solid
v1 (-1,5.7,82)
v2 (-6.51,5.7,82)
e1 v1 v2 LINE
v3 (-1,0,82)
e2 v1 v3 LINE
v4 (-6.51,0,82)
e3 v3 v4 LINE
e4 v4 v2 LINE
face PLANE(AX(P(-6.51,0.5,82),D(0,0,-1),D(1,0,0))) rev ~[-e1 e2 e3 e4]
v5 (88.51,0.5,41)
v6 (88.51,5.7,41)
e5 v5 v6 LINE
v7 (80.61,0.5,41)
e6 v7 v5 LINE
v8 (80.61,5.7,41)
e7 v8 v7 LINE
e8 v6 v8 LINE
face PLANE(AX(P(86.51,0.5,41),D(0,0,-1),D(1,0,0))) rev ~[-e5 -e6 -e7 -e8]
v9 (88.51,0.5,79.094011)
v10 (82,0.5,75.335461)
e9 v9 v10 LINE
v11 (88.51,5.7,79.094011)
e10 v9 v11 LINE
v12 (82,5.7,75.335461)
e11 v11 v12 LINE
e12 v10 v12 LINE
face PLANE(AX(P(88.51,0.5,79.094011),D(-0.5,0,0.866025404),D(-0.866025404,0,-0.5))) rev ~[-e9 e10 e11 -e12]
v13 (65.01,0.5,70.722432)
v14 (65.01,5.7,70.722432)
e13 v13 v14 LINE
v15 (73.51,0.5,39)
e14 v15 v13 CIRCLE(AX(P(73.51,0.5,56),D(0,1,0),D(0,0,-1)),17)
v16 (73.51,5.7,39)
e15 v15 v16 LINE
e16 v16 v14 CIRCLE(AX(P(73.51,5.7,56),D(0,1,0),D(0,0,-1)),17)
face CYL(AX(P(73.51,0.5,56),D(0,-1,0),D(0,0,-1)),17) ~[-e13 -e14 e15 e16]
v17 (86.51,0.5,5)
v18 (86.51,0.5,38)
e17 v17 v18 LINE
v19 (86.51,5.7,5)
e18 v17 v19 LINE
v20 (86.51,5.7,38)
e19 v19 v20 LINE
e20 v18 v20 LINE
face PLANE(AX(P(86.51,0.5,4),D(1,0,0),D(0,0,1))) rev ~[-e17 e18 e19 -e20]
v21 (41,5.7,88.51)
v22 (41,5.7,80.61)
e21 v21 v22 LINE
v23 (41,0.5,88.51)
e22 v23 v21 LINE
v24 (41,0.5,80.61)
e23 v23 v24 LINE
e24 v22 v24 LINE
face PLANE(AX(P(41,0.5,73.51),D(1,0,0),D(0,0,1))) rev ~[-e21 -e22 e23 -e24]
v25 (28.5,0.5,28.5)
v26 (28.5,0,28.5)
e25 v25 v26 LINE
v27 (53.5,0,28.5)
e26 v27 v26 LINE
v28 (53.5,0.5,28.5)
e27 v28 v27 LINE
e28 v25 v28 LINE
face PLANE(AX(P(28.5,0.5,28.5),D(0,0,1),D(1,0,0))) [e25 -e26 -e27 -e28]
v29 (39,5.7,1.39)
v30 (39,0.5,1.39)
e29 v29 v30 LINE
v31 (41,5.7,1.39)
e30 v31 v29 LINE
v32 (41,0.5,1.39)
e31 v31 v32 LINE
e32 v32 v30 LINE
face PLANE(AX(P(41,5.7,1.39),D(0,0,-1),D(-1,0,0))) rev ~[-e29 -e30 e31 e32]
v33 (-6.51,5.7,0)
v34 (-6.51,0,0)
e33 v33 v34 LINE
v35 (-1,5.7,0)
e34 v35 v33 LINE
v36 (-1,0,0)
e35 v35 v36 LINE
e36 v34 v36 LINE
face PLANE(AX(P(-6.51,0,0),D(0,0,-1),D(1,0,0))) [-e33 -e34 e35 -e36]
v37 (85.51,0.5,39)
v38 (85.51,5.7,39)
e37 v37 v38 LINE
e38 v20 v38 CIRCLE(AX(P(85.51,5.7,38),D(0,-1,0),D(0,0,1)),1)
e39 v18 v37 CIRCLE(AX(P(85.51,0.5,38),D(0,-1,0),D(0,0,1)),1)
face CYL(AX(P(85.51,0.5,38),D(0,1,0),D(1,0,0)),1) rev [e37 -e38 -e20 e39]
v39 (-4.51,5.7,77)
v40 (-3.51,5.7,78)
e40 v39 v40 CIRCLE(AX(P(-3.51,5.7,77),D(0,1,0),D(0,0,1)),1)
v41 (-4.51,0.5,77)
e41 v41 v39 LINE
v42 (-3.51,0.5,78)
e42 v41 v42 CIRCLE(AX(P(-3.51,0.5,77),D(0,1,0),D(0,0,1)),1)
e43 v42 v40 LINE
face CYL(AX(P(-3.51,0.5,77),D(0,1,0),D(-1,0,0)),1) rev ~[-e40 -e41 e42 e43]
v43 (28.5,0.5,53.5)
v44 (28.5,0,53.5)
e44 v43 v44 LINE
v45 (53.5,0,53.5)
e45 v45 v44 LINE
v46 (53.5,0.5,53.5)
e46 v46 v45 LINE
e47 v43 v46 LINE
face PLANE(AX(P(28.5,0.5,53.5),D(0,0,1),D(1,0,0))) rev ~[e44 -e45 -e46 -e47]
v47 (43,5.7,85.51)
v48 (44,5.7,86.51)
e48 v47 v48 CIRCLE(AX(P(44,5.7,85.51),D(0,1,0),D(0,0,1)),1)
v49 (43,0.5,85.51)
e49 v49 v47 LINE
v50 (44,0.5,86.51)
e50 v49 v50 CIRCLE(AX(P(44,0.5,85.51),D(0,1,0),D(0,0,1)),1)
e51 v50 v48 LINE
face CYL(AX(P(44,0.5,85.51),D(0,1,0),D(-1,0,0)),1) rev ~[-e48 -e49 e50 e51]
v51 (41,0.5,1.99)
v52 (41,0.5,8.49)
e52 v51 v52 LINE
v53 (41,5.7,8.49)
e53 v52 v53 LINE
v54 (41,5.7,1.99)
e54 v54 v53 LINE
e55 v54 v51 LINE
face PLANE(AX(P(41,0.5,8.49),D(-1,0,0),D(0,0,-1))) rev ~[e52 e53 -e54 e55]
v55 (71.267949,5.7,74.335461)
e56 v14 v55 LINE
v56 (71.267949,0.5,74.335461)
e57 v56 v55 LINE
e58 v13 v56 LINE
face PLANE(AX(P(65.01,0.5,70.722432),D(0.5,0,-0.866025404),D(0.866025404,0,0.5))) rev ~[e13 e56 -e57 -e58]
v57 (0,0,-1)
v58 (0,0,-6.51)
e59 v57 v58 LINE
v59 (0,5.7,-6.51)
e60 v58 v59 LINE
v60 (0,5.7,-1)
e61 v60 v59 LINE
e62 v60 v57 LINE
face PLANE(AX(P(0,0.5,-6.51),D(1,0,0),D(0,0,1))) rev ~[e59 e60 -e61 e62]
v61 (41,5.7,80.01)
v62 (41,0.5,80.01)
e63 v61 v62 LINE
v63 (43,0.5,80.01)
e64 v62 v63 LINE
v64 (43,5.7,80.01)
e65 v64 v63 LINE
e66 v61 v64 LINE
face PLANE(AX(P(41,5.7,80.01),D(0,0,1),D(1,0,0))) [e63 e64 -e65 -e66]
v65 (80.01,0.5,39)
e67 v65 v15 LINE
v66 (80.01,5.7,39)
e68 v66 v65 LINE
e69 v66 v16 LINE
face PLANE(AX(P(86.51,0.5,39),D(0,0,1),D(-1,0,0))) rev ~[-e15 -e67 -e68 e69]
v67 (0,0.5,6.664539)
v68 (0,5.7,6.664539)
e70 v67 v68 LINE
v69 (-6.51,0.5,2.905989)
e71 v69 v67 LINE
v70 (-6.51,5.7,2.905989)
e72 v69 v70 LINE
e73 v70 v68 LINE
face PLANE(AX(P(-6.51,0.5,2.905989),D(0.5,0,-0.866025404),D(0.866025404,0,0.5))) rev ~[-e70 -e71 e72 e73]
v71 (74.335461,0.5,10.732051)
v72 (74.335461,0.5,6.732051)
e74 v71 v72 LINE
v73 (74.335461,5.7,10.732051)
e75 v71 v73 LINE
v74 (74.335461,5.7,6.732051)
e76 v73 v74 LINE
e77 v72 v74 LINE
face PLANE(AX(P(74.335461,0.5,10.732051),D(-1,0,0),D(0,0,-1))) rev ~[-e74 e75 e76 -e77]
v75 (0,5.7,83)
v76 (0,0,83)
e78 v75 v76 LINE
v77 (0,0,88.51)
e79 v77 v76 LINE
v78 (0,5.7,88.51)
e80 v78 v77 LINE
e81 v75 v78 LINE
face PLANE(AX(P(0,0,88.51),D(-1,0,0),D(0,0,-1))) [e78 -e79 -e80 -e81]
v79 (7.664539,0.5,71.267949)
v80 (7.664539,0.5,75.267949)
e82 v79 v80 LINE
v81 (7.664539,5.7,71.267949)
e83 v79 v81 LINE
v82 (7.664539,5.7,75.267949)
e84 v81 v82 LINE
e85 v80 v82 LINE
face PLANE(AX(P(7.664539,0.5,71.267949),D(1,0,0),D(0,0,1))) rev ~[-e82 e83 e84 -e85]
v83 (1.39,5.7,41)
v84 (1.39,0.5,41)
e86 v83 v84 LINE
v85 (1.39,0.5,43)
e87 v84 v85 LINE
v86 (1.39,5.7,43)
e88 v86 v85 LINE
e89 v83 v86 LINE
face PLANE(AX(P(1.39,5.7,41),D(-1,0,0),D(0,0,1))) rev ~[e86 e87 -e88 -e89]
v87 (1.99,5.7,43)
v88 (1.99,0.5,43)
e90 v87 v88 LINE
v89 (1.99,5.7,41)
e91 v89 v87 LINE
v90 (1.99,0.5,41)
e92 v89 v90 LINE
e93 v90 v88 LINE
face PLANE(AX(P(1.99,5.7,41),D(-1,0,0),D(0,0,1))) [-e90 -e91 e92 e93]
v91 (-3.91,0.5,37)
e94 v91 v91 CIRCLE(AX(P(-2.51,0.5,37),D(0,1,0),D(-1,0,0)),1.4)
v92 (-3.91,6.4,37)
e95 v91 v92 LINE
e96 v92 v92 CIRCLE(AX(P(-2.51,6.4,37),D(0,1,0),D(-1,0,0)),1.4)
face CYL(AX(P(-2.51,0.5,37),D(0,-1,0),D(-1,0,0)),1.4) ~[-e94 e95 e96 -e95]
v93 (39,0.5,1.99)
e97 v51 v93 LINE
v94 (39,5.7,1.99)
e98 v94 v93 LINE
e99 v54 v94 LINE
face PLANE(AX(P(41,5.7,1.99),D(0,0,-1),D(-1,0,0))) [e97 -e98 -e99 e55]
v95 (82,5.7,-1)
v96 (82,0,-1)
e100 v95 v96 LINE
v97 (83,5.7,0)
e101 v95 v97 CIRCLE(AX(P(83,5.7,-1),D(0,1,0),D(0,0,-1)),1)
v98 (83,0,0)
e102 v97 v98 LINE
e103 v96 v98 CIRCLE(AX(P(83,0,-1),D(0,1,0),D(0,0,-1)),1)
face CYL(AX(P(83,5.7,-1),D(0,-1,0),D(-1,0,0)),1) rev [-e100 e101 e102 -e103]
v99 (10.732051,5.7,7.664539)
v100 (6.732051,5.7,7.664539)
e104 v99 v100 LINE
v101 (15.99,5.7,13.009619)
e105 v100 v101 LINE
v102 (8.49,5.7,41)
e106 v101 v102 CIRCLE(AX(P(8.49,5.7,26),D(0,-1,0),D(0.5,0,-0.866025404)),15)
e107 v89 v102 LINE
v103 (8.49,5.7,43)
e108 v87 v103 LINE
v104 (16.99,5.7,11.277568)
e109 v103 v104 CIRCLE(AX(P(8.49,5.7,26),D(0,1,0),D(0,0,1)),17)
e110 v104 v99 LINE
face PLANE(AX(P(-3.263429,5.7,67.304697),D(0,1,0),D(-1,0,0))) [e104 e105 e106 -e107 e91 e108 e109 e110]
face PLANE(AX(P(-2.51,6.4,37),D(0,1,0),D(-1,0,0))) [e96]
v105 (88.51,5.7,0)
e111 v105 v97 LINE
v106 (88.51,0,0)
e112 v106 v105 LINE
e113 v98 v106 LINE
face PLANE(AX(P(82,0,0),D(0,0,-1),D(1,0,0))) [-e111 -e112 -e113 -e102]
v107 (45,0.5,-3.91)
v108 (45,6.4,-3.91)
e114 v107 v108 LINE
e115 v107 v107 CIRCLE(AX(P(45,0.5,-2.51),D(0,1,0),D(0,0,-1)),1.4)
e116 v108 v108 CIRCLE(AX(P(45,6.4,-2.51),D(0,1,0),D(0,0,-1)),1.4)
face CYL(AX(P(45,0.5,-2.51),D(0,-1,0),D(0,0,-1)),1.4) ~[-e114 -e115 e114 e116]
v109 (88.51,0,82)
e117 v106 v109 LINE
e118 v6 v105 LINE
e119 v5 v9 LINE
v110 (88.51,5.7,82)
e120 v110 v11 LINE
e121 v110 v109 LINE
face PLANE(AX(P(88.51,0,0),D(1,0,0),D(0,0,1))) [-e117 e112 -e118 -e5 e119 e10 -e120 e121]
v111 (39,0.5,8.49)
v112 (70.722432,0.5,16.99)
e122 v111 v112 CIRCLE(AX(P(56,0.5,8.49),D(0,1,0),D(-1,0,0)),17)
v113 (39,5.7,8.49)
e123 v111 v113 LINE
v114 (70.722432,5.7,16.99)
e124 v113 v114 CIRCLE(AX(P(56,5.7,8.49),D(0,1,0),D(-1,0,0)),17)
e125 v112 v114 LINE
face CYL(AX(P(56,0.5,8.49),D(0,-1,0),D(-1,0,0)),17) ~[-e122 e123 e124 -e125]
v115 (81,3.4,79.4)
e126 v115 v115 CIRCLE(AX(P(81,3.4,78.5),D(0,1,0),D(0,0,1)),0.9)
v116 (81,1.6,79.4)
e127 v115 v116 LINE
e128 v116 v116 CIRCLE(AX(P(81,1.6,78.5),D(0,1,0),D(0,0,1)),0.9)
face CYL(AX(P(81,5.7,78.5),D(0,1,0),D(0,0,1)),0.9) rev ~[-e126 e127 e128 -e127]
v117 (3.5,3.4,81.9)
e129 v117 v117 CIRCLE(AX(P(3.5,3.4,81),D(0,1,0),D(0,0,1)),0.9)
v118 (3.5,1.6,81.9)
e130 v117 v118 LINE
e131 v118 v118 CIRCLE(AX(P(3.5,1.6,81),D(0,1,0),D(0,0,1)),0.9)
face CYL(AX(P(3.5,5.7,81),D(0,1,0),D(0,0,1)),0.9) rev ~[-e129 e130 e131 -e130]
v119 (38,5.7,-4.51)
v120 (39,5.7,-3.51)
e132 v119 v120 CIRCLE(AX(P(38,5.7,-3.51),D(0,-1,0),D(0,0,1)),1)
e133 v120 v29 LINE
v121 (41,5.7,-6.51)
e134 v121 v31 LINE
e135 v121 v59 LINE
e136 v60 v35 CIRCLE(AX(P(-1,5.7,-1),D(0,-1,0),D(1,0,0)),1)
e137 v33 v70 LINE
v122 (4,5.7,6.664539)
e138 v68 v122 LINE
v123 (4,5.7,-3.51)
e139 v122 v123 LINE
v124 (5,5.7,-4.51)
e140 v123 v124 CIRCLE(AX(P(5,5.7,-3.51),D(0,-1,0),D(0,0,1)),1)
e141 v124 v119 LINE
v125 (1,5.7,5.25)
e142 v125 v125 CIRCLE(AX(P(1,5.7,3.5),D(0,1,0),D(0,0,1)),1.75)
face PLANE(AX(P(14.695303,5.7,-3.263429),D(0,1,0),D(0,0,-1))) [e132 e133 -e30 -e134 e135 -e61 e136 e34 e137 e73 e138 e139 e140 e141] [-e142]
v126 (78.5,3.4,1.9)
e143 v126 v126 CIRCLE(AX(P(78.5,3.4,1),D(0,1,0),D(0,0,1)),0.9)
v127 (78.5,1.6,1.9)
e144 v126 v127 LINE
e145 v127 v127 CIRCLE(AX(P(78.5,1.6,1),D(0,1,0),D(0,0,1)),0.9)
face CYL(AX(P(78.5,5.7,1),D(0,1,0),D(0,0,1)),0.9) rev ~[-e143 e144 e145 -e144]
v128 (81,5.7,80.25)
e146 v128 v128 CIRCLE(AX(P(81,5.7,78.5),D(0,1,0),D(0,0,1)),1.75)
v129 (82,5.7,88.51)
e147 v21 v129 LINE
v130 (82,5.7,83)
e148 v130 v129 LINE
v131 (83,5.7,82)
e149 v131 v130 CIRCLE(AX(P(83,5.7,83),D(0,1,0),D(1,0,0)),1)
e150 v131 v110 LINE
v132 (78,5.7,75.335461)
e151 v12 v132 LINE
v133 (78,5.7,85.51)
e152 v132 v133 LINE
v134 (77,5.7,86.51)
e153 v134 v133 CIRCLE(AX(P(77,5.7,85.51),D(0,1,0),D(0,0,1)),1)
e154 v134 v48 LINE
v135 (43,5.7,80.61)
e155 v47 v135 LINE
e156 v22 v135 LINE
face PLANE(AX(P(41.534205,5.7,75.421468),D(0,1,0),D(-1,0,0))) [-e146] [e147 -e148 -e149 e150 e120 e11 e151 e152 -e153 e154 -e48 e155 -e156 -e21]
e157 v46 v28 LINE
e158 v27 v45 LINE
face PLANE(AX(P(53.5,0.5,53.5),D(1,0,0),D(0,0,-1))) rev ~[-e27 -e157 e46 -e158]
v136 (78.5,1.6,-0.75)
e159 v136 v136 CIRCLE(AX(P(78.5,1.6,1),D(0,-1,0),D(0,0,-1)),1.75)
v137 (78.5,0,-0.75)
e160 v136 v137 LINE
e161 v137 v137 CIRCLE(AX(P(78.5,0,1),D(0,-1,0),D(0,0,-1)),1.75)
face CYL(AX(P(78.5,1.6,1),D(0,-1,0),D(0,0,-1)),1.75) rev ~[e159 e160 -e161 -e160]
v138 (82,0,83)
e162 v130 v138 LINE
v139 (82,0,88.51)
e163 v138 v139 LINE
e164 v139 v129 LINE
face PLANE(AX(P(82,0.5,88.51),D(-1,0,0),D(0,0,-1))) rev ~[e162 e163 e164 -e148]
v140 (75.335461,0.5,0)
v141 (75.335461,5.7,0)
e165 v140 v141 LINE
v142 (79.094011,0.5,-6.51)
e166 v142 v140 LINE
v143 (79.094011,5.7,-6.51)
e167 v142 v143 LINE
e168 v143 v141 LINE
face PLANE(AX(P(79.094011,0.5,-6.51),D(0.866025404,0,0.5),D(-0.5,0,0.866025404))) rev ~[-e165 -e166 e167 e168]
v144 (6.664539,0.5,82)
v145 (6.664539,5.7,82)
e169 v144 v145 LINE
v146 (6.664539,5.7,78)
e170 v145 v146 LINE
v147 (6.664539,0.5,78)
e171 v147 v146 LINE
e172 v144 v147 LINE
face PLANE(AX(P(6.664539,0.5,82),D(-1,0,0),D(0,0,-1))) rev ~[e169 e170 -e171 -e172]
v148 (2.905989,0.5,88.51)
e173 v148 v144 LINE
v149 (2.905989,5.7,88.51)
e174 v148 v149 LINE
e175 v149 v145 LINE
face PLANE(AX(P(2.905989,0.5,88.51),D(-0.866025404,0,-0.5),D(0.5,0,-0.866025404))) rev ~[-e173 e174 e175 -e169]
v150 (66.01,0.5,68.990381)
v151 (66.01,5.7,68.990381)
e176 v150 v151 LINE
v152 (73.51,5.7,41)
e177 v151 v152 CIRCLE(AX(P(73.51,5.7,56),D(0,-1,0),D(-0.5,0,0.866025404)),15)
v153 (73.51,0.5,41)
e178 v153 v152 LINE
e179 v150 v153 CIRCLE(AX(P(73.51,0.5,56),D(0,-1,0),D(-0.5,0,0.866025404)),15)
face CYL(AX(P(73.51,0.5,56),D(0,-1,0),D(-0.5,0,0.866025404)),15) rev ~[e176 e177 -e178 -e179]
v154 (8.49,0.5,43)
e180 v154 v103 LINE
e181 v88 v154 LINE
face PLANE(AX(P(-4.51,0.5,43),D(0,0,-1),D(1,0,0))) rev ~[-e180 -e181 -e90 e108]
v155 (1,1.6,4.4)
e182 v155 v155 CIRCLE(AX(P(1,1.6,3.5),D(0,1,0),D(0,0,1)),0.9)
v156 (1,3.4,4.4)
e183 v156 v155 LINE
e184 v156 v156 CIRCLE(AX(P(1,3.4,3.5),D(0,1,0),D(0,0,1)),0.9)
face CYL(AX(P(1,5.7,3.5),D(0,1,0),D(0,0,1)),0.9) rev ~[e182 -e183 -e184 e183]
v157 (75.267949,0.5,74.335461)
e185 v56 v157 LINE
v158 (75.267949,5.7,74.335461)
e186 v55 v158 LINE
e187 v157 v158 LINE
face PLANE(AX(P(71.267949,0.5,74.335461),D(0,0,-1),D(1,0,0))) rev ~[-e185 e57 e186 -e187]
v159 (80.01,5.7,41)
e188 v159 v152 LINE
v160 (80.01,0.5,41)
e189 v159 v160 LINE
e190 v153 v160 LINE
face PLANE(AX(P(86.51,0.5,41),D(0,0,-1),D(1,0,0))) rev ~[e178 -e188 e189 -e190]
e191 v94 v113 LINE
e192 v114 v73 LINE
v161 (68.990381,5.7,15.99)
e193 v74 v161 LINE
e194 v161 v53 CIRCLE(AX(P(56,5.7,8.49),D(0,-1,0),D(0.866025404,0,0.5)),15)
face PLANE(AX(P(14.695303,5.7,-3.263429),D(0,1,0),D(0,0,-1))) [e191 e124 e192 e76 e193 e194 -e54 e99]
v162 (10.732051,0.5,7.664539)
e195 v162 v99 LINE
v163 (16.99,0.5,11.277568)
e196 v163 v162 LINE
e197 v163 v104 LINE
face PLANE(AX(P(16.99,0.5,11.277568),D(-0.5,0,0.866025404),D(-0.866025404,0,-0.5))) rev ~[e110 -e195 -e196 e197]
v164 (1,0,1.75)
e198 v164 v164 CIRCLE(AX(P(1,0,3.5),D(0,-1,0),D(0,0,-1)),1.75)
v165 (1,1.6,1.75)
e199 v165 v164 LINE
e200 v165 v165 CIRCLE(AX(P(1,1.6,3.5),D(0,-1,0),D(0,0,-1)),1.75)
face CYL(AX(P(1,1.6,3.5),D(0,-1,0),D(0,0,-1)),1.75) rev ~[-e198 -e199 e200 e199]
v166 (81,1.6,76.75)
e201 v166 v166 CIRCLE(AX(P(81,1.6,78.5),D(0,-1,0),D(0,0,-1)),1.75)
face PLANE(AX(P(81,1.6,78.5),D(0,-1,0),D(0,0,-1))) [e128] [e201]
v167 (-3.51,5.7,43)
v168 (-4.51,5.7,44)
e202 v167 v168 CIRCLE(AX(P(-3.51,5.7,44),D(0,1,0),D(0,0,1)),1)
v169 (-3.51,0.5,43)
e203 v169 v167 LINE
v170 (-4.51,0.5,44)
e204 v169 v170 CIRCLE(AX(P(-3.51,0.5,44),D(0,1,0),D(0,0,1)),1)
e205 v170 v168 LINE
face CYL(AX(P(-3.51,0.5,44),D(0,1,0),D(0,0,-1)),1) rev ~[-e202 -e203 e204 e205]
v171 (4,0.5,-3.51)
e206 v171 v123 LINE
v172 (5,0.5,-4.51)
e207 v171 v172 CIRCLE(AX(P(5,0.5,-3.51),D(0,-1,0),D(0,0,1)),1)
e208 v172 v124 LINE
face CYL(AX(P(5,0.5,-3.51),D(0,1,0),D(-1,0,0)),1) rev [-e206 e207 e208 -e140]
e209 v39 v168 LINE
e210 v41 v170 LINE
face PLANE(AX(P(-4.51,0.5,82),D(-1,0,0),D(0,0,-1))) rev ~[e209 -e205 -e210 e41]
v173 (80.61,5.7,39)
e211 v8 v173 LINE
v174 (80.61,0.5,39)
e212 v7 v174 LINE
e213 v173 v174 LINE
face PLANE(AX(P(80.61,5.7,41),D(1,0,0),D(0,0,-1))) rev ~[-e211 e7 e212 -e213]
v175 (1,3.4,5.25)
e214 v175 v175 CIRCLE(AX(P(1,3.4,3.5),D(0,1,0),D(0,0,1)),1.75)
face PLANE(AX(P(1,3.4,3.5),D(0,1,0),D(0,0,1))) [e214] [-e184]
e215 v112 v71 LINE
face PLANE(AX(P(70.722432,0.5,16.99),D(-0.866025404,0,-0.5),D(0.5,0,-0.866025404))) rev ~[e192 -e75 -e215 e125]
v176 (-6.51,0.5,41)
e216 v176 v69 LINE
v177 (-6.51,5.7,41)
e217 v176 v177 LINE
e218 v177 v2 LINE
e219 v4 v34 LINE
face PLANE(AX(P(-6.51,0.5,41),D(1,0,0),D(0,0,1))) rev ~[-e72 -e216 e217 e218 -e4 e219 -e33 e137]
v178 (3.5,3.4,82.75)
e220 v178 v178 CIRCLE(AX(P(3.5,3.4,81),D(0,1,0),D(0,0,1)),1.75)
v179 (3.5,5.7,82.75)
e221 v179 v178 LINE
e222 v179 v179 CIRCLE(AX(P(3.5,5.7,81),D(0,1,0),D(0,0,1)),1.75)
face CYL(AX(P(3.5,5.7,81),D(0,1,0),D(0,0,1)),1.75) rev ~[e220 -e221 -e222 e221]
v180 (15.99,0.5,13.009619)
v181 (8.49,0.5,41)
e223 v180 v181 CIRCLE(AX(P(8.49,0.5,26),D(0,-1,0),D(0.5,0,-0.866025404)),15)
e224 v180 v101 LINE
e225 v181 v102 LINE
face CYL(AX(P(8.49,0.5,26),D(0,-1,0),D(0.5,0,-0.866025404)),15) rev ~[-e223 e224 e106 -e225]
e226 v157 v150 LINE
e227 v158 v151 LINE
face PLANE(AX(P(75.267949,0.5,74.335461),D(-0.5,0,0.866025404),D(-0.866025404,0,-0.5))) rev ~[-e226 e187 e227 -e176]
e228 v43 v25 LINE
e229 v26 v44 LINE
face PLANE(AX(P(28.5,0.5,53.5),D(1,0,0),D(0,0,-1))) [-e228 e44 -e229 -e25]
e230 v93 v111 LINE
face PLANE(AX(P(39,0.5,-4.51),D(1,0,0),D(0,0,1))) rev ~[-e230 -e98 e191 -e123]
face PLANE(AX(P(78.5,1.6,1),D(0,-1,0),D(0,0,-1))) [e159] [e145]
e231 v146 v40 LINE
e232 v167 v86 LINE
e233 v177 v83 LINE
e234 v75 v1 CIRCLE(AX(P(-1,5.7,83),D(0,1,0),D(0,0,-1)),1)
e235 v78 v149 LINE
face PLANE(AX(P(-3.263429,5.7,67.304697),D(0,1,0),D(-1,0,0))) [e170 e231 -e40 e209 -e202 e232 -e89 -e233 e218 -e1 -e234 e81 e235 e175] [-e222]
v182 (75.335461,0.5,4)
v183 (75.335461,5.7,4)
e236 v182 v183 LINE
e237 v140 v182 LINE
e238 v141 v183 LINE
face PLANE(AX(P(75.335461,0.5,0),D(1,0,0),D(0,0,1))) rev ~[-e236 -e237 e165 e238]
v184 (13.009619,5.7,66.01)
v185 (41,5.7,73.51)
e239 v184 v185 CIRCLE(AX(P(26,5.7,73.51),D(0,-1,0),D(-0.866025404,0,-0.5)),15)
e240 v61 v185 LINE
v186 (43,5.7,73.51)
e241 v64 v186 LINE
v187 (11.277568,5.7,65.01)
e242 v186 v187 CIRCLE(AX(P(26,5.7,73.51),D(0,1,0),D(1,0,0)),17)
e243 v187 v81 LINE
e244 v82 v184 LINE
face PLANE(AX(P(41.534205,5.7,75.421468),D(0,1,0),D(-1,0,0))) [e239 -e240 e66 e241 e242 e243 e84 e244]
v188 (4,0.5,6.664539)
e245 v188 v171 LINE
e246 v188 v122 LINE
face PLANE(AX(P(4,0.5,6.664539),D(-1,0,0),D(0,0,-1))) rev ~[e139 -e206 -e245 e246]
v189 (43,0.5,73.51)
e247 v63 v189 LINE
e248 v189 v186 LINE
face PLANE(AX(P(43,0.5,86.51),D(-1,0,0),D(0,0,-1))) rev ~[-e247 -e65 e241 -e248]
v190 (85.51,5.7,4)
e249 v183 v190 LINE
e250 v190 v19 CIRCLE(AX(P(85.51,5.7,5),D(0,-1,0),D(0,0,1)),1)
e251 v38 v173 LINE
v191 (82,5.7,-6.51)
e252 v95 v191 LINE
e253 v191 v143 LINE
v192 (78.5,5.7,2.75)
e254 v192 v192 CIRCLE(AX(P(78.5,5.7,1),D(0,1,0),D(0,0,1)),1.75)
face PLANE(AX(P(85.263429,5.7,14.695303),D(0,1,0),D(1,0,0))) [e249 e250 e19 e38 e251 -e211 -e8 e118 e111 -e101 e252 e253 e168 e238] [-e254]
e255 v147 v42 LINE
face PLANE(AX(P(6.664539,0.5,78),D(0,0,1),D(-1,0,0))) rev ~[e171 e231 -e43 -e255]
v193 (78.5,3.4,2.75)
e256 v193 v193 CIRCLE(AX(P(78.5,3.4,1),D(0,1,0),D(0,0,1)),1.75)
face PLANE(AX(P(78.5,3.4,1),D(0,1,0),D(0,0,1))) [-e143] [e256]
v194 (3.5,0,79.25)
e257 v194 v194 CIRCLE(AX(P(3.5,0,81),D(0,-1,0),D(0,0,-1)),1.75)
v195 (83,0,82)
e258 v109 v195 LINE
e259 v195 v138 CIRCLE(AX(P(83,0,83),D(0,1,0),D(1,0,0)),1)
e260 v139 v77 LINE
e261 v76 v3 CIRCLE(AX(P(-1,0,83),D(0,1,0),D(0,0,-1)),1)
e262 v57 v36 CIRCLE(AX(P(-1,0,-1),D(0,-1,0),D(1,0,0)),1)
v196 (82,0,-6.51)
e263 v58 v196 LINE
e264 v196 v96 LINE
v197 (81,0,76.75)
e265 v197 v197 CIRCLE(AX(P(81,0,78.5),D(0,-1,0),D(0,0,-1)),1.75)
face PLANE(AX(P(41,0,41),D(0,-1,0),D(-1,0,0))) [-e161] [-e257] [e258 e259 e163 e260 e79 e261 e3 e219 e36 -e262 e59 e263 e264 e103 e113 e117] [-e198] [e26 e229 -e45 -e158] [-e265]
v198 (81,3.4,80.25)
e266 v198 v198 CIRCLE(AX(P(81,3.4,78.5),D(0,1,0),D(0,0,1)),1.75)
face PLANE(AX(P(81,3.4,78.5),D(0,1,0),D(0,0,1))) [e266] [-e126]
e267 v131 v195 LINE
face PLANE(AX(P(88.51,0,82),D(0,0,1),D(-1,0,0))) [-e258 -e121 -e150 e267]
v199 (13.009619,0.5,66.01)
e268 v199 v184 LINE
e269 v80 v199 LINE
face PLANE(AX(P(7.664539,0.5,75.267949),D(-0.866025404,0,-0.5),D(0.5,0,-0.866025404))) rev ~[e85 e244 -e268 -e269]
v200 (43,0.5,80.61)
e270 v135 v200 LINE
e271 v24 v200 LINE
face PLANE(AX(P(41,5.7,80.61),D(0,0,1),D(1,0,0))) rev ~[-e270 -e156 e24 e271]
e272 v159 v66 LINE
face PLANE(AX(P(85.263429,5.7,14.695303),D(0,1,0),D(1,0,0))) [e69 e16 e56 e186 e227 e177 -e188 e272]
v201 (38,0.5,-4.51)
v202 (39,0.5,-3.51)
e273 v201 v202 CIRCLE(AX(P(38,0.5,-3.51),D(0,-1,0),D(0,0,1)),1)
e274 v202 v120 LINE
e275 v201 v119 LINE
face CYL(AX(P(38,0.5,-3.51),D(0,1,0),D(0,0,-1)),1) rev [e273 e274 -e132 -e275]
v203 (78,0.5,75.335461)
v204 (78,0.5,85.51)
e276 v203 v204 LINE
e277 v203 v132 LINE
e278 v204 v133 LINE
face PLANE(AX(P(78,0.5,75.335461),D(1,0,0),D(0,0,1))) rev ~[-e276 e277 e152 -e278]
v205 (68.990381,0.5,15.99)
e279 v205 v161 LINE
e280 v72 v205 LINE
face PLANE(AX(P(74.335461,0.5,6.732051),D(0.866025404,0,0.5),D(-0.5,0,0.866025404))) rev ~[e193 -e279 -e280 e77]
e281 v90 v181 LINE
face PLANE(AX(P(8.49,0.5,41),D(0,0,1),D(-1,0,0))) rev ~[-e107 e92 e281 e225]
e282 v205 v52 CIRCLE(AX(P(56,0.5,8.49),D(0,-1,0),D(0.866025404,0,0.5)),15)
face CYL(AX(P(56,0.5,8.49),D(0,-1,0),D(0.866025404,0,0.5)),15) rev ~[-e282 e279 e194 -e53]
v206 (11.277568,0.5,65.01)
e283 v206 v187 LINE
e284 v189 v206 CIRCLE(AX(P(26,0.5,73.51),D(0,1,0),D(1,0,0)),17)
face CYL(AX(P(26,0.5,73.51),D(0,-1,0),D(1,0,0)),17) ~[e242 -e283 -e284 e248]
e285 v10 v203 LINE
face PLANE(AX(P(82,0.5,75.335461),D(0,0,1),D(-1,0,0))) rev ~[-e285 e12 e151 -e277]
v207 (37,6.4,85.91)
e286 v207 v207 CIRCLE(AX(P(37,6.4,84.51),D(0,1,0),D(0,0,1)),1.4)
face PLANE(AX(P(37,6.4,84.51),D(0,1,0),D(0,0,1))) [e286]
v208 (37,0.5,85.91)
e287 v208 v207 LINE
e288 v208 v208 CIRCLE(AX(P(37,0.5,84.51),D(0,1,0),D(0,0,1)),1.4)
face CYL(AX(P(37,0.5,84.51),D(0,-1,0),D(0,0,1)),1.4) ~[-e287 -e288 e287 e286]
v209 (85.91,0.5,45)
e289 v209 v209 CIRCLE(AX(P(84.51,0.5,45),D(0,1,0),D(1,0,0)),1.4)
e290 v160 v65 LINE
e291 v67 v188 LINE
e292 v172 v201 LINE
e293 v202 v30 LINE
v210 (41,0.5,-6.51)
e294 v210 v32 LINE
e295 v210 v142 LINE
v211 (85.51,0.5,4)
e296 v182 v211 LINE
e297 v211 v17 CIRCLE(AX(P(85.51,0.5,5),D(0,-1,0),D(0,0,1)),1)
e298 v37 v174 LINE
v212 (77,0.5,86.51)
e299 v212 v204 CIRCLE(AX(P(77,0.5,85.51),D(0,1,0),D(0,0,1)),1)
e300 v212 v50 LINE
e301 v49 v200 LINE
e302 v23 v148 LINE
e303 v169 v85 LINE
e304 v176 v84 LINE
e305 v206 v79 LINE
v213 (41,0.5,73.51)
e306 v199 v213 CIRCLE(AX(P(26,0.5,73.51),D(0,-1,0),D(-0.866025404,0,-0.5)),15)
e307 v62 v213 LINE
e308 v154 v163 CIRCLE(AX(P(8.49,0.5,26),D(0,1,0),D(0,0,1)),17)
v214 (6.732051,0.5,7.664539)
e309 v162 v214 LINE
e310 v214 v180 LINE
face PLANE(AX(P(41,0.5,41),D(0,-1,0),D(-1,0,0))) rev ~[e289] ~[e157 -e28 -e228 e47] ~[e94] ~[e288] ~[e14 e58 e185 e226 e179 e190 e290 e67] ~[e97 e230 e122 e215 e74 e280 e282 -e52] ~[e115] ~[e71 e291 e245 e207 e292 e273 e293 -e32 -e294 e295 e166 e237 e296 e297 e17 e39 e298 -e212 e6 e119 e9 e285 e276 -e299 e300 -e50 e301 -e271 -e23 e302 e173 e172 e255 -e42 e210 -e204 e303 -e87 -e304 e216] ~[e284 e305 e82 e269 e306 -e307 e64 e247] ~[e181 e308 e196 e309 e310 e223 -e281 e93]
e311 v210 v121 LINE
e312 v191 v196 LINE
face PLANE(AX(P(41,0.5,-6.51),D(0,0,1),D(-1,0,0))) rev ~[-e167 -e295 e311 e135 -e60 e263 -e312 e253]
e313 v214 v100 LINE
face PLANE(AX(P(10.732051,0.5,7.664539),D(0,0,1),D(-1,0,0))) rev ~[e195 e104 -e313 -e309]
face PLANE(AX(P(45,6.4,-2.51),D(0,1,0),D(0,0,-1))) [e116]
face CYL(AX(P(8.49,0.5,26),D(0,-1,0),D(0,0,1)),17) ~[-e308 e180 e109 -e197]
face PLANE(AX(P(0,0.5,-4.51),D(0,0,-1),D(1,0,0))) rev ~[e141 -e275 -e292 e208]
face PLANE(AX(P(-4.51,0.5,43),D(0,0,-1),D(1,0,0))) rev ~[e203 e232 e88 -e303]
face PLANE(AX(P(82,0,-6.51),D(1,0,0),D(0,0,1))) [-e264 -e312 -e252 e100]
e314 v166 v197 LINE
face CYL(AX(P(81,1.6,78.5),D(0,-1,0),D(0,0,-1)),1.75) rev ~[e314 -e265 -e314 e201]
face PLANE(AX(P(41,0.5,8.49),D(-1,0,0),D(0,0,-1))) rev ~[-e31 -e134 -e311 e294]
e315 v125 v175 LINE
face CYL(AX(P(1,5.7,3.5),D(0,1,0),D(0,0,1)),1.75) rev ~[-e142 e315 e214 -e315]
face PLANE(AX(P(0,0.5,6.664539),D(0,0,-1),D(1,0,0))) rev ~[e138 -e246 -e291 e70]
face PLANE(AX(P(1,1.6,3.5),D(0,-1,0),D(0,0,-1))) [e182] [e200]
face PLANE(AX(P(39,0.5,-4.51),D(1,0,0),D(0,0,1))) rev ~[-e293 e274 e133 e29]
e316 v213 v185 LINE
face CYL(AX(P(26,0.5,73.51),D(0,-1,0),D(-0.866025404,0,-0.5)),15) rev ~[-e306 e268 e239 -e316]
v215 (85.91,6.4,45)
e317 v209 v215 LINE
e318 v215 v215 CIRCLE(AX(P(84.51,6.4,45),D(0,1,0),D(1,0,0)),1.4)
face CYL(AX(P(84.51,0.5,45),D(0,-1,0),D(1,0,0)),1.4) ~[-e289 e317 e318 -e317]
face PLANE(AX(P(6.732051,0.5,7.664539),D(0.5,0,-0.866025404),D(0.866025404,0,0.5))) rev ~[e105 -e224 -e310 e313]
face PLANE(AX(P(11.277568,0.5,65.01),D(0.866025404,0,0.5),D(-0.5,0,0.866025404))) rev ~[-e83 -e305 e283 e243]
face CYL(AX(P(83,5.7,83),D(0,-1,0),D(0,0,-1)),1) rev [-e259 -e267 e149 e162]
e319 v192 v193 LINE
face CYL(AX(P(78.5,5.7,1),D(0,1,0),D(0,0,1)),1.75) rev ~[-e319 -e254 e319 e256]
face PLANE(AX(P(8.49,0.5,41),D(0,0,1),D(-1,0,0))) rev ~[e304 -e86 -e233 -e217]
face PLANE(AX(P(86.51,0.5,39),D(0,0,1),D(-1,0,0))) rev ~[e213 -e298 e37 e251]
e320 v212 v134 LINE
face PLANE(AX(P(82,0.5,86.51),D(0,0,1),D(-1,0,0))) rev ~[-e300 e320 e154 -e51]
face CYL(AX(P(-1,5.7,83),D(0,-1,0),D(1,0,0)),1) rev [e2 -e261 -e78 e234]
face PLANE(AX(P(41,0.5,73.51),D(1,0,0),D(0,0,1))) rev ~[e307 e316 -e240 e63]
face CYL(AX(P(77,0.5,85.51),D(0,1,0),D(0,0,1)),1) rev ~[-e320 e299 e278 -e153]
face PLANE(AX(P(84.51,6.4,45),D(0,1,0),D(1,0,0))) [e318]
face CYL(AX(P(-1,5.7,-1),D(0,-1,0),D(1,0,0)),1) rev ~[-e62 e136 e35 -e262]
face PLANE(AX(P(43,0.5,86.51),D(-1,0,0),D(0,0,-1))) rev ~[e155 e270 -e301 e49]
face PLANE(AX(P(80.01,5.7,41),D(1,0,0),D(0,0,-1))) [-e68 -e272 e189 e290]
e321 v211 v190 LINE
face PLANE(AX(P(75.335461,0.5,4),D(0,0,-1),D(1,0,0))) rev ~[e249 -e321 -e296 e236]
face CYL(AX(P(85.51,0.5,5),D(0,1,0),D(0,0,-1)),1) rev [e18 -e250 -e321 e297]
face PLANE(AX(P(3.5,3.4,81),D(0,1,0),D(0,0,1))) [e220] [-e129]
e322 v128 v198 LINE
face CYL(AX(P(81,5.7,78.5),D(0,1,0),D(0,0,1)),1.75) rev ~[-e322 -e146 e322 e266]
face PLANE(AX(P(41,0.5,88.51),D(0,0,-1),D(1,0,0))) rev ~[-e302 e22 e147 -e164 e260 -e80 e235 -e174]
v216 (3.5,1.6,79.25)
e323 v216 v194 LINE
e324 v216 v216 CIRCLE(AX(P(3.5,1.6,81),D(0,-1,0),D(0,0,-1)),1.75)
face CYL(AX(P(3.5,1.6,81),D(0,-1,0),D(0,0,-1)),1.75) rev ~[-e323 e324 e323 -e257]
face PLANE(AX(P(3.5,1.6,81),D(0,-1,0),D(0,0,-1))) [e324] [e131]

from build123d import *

# Parameters (mm, degrees)
BOSS_EXTRUDE1_DEPTH              = 0.5
BOSS_EXTRUDE2_DEPTH              = 5.2
CIRPATTERN1_COUNT                = 4
SKETCH8_R                        = 1.4
BOSS_EXTRUDE4_DEPTH              = 5.9
CIRPATTERN2_COUNT                = 4
FILLET1_R                        = 1
SKETCH11_W                       = 25
SKETCH11_H                       = 25
CUT_EXTRUDE2_DEPTH               = 126.311013881
SKETCH15_R                       = 0.9
CUT_EXTRUDE3_DEPTH               = 126.301756572
SKETCH16_R                       = 1.75
CUT_EXTRUDE4_DEPTH               = 2.3
CBORE_FOR_M1_6_SHCS2_D           = 1.8
CBORE_FOR_M1_6_SHCS2_CBORE_D     = 3.5
CBORE_FOR_M1_6_SHCS2_CBORE_DEPTH = 1.6
SKETCH20_W                       = 0.6
SKETCH20_H                       = 2
CUT_EXTRUDE6_DEPTH               = 5.2
CIRPATTERN3_COUNT                = 4
FILLET2_R                        = 1


with BuildPart() as part:
    # Sketch1 → Boss-Extrude1 (new body)
    with BuildSketch(Plane(origin=(0, 0, 0), x_dir=(1, 0, 0), z_dir=(0, 1, 0))):
        Polygon((0, 0), (0, 6.51), (82, 6.51), (82, 0), (88.51, 0), (88.51, -82), (82, -82), (82, -88.51), (0, -88.51), (0, -82), (-6.51, -82), (-6.51, 0), align=None)
    extrude(amount=BOSS_EXTRUDE1_DEPTH)

    # Sketch2 → Boss-Extrude2 (add)
    with BuildSketch(Plane(origin=(0, 0.5, 0), x_dir=(1, 0, 0), z_dir=(0, 1, 0))):
        with BuildLine():
            Line((41, 6.51), (0, 6.51))
            Line((0, 6.51), (0, 4.51))
            Line((0, 4.51), (39, 4.51))
            Line((39, 4.51), (39, -8.49))
            ThreePointArc((39, -8.49), (51.600076233, -24.910739047), (70.722431864, -16.99))
            Line((70.722431864, -16.99), (74.335460515, -10.732050808))
            Line((74.335460515, -10.732050808), (74.335460515, -6.732050808))
            Line((74.335460515, -6.732050808), (68.990381057, -15.99))
            ThreePointArc((68.990381057, -15.99), (52.117714323, -22.978887394), (41, -8.49))
            Line((41, -8.49), (41, 6.51))
        make_face()
        Polygon((88.51, -41), (88.51, 0), (82, 0), (82, 6.51), (79.094010768, 6.51), (75.335460515, 0), (75.335460515, -4), (86.51, -4), (86.51, -41), align=None)
    boss_extrude2 = extrude(amount=BOSS_EXTRUDE2_DEPTH)

    # CirPattern1: Boss-Extrude2 ×4 about axis
    cirpattern1_axis = Axis((41, 0, 41), (0, 1, 0))
    for i in range(1, CIRPATTERN1_COUNT):
        add(boss_extrude2.rotate(cirpattern1_axis, i * 360 / CIRPATTERN1_COUNT))

    # Sketch8 → Boss-Extrude4 (add)
    with BuildSketch(Plane(origin=(0, 0.5, 0), x_dir=(1, 0, 0), z_dir=(0, 1, 0))):
        with Locations(Location((37, -84.51, 0), (0, 0, 270))):
            Circle(SKETCH8_R)
    boss_extrude4 = extrude(amount=BOSS_EXTRUDE4_DEPTH)

    # CirPattern2: Boss-Extrude4 ×4 about axis
    cirpattern2_axis = Axis((41, 0, 41), (0, 1, 0))
    for i in range(1, CIRPATTERN2_COUNT):
        add(boss_extrude4.rotate(cirpattern2_axis, i * 360 / CIRPATTERN2_COUNT))

    # Fillet1
    fillet1_edges = [part.edges().sort_by_distance(p)[0] for p in [
        (4, 3.1, -4.51),
        (78, 3.1, 86.51),
        (43, 3.1, 86.51),
        (86.51, 3.1, 39),
        (39, 3.1, -4.51),
        (86.51, 3.1, 4),
        (-4.51, 3.1, 78),
        (-4.51, 3.1, 43),
    ]]
    fillet(fillet1_edges, radius=FILLET1_R)

    # Sketch11 → Cut-Extrude2 (cut, through all)
    with BuildSketch(Plane(origin=(0, 0.5, 0), x_dir=(1, 0, 0), z_dir=(0, 1, 0))):
        with Locations((41, -41)):
            Rectangle(SKETCH11_W, SKETCH11_H)
    extrude(amount=-CUT_EXTRUDE2_DEPTH, mode=Mode.SUBTRACT)

    # Sketch15 → Cut-Extrude3 (cut, through all)
    with BuildSketch(Plane(origin=(0, 5.7, 0), x_dir=(1, 0, 0), z_dir=(0, 1, 0))):
        with Locations(Location((81, -78.5, 0), (0, 0, 270))):
            Circle(SKETCH15_R)
        with Locations(Location((78.5, -1, 0), (0, 0, 270))):
            Circle(SKETCH15_R)
        with Locations(Location((1, -3.5, 0), (0, 0, 270))):
            Circle(SKETCH15_R)
        with Locations(Location((3.5, -81, 0), (0, 0, 270))):
            Circle(SKETCH15_R)
    extrude(amount=-CUT_EXTRUDE3_DEPTH, mode=Mode.SUBTRACT)

    # Sketch16 → Cut-Extrude4 (cut)
    with BuildSketch(Plane(origin=(0, 5.7, 0), x_dir=(1, 0, 0), z_dir=(0, 1, 0))):
        with Locations(Location((78.5, -1, 0), (0, 0, 270))):
            Circle(SKETCH16_R)
        with Locations(Location((81, -78.5, 0), (0, 0, 270))):
            Circle(SKETCH16_R)
        with Locations(Location((3.5, -81, 0), (0, 0, 270))):
            Circle(SKETCH16_R)
        with Locations(Location((1, -3.5, 0), (0, 0, 270))):
            Circle(SKETCH16_R)
    extrude(amount=-CUT_EXTRUDE4_DEPTH, mode=Mode.SUBTRACT)

    # CBORE for M1.6 SHCS2 (through all)
    with Locations(Plane(origin=(81, 0, 78.5), x_dir=(0, 0, -1), z_dir=(0, -1, 0))):
        with Locations((0, 0), (77.5, -2.5), (75, -80), (-2.5, -77.5)):
            CounterBoreHole(CBORE_FOR_M1_6_SHCS2_D / 2, CBORE_FOR_M1_6_SHCS2_CBORE_D / 2, CBORE_FOR_M1_6_SHCS2_CBORE_DEPTH)

    # Sketch20 → Cut-Extrude6 (cut)
    with BuildSketch(Plane(origin=(0, 5.7, 0), x_dir=(1, 0, 0), z_dir=(0, 1, 0))):
        with Locations((80.31, -40)):
            Rectangle(SKETCH20_W, SKETCH20_H)
    cut_extrude6 = extrude(amount=-CUT_EXTRUDE6_DEPTH, mode=Mode.SUBTRACT)

    # CirPattern3: Cut-Extrude6 ×4 about axis
    cirpattern3_axis = Axis((41, 0, 41), (0, 1, 0))
    for i in range(1, CIRPATTERN3_COUNT):
        add(cut_extrude6.rotate(cirpattern3_axis, i * 360 / CIRPATTERN3_COUNT), mode=Mode.SUBTRACT)

    # Fillet2
    fillet2_edges = [part.edges().sort_by_distance(p)[0] for p in [
        (0, 2.85, 0),
        (82, 2.85, 0),
        (82, 2.85, 82),
        (0, 2.85, 82),
    ]]
    fillet(fillet2_edges, radius=FILLET2_R)


solid = part.part
